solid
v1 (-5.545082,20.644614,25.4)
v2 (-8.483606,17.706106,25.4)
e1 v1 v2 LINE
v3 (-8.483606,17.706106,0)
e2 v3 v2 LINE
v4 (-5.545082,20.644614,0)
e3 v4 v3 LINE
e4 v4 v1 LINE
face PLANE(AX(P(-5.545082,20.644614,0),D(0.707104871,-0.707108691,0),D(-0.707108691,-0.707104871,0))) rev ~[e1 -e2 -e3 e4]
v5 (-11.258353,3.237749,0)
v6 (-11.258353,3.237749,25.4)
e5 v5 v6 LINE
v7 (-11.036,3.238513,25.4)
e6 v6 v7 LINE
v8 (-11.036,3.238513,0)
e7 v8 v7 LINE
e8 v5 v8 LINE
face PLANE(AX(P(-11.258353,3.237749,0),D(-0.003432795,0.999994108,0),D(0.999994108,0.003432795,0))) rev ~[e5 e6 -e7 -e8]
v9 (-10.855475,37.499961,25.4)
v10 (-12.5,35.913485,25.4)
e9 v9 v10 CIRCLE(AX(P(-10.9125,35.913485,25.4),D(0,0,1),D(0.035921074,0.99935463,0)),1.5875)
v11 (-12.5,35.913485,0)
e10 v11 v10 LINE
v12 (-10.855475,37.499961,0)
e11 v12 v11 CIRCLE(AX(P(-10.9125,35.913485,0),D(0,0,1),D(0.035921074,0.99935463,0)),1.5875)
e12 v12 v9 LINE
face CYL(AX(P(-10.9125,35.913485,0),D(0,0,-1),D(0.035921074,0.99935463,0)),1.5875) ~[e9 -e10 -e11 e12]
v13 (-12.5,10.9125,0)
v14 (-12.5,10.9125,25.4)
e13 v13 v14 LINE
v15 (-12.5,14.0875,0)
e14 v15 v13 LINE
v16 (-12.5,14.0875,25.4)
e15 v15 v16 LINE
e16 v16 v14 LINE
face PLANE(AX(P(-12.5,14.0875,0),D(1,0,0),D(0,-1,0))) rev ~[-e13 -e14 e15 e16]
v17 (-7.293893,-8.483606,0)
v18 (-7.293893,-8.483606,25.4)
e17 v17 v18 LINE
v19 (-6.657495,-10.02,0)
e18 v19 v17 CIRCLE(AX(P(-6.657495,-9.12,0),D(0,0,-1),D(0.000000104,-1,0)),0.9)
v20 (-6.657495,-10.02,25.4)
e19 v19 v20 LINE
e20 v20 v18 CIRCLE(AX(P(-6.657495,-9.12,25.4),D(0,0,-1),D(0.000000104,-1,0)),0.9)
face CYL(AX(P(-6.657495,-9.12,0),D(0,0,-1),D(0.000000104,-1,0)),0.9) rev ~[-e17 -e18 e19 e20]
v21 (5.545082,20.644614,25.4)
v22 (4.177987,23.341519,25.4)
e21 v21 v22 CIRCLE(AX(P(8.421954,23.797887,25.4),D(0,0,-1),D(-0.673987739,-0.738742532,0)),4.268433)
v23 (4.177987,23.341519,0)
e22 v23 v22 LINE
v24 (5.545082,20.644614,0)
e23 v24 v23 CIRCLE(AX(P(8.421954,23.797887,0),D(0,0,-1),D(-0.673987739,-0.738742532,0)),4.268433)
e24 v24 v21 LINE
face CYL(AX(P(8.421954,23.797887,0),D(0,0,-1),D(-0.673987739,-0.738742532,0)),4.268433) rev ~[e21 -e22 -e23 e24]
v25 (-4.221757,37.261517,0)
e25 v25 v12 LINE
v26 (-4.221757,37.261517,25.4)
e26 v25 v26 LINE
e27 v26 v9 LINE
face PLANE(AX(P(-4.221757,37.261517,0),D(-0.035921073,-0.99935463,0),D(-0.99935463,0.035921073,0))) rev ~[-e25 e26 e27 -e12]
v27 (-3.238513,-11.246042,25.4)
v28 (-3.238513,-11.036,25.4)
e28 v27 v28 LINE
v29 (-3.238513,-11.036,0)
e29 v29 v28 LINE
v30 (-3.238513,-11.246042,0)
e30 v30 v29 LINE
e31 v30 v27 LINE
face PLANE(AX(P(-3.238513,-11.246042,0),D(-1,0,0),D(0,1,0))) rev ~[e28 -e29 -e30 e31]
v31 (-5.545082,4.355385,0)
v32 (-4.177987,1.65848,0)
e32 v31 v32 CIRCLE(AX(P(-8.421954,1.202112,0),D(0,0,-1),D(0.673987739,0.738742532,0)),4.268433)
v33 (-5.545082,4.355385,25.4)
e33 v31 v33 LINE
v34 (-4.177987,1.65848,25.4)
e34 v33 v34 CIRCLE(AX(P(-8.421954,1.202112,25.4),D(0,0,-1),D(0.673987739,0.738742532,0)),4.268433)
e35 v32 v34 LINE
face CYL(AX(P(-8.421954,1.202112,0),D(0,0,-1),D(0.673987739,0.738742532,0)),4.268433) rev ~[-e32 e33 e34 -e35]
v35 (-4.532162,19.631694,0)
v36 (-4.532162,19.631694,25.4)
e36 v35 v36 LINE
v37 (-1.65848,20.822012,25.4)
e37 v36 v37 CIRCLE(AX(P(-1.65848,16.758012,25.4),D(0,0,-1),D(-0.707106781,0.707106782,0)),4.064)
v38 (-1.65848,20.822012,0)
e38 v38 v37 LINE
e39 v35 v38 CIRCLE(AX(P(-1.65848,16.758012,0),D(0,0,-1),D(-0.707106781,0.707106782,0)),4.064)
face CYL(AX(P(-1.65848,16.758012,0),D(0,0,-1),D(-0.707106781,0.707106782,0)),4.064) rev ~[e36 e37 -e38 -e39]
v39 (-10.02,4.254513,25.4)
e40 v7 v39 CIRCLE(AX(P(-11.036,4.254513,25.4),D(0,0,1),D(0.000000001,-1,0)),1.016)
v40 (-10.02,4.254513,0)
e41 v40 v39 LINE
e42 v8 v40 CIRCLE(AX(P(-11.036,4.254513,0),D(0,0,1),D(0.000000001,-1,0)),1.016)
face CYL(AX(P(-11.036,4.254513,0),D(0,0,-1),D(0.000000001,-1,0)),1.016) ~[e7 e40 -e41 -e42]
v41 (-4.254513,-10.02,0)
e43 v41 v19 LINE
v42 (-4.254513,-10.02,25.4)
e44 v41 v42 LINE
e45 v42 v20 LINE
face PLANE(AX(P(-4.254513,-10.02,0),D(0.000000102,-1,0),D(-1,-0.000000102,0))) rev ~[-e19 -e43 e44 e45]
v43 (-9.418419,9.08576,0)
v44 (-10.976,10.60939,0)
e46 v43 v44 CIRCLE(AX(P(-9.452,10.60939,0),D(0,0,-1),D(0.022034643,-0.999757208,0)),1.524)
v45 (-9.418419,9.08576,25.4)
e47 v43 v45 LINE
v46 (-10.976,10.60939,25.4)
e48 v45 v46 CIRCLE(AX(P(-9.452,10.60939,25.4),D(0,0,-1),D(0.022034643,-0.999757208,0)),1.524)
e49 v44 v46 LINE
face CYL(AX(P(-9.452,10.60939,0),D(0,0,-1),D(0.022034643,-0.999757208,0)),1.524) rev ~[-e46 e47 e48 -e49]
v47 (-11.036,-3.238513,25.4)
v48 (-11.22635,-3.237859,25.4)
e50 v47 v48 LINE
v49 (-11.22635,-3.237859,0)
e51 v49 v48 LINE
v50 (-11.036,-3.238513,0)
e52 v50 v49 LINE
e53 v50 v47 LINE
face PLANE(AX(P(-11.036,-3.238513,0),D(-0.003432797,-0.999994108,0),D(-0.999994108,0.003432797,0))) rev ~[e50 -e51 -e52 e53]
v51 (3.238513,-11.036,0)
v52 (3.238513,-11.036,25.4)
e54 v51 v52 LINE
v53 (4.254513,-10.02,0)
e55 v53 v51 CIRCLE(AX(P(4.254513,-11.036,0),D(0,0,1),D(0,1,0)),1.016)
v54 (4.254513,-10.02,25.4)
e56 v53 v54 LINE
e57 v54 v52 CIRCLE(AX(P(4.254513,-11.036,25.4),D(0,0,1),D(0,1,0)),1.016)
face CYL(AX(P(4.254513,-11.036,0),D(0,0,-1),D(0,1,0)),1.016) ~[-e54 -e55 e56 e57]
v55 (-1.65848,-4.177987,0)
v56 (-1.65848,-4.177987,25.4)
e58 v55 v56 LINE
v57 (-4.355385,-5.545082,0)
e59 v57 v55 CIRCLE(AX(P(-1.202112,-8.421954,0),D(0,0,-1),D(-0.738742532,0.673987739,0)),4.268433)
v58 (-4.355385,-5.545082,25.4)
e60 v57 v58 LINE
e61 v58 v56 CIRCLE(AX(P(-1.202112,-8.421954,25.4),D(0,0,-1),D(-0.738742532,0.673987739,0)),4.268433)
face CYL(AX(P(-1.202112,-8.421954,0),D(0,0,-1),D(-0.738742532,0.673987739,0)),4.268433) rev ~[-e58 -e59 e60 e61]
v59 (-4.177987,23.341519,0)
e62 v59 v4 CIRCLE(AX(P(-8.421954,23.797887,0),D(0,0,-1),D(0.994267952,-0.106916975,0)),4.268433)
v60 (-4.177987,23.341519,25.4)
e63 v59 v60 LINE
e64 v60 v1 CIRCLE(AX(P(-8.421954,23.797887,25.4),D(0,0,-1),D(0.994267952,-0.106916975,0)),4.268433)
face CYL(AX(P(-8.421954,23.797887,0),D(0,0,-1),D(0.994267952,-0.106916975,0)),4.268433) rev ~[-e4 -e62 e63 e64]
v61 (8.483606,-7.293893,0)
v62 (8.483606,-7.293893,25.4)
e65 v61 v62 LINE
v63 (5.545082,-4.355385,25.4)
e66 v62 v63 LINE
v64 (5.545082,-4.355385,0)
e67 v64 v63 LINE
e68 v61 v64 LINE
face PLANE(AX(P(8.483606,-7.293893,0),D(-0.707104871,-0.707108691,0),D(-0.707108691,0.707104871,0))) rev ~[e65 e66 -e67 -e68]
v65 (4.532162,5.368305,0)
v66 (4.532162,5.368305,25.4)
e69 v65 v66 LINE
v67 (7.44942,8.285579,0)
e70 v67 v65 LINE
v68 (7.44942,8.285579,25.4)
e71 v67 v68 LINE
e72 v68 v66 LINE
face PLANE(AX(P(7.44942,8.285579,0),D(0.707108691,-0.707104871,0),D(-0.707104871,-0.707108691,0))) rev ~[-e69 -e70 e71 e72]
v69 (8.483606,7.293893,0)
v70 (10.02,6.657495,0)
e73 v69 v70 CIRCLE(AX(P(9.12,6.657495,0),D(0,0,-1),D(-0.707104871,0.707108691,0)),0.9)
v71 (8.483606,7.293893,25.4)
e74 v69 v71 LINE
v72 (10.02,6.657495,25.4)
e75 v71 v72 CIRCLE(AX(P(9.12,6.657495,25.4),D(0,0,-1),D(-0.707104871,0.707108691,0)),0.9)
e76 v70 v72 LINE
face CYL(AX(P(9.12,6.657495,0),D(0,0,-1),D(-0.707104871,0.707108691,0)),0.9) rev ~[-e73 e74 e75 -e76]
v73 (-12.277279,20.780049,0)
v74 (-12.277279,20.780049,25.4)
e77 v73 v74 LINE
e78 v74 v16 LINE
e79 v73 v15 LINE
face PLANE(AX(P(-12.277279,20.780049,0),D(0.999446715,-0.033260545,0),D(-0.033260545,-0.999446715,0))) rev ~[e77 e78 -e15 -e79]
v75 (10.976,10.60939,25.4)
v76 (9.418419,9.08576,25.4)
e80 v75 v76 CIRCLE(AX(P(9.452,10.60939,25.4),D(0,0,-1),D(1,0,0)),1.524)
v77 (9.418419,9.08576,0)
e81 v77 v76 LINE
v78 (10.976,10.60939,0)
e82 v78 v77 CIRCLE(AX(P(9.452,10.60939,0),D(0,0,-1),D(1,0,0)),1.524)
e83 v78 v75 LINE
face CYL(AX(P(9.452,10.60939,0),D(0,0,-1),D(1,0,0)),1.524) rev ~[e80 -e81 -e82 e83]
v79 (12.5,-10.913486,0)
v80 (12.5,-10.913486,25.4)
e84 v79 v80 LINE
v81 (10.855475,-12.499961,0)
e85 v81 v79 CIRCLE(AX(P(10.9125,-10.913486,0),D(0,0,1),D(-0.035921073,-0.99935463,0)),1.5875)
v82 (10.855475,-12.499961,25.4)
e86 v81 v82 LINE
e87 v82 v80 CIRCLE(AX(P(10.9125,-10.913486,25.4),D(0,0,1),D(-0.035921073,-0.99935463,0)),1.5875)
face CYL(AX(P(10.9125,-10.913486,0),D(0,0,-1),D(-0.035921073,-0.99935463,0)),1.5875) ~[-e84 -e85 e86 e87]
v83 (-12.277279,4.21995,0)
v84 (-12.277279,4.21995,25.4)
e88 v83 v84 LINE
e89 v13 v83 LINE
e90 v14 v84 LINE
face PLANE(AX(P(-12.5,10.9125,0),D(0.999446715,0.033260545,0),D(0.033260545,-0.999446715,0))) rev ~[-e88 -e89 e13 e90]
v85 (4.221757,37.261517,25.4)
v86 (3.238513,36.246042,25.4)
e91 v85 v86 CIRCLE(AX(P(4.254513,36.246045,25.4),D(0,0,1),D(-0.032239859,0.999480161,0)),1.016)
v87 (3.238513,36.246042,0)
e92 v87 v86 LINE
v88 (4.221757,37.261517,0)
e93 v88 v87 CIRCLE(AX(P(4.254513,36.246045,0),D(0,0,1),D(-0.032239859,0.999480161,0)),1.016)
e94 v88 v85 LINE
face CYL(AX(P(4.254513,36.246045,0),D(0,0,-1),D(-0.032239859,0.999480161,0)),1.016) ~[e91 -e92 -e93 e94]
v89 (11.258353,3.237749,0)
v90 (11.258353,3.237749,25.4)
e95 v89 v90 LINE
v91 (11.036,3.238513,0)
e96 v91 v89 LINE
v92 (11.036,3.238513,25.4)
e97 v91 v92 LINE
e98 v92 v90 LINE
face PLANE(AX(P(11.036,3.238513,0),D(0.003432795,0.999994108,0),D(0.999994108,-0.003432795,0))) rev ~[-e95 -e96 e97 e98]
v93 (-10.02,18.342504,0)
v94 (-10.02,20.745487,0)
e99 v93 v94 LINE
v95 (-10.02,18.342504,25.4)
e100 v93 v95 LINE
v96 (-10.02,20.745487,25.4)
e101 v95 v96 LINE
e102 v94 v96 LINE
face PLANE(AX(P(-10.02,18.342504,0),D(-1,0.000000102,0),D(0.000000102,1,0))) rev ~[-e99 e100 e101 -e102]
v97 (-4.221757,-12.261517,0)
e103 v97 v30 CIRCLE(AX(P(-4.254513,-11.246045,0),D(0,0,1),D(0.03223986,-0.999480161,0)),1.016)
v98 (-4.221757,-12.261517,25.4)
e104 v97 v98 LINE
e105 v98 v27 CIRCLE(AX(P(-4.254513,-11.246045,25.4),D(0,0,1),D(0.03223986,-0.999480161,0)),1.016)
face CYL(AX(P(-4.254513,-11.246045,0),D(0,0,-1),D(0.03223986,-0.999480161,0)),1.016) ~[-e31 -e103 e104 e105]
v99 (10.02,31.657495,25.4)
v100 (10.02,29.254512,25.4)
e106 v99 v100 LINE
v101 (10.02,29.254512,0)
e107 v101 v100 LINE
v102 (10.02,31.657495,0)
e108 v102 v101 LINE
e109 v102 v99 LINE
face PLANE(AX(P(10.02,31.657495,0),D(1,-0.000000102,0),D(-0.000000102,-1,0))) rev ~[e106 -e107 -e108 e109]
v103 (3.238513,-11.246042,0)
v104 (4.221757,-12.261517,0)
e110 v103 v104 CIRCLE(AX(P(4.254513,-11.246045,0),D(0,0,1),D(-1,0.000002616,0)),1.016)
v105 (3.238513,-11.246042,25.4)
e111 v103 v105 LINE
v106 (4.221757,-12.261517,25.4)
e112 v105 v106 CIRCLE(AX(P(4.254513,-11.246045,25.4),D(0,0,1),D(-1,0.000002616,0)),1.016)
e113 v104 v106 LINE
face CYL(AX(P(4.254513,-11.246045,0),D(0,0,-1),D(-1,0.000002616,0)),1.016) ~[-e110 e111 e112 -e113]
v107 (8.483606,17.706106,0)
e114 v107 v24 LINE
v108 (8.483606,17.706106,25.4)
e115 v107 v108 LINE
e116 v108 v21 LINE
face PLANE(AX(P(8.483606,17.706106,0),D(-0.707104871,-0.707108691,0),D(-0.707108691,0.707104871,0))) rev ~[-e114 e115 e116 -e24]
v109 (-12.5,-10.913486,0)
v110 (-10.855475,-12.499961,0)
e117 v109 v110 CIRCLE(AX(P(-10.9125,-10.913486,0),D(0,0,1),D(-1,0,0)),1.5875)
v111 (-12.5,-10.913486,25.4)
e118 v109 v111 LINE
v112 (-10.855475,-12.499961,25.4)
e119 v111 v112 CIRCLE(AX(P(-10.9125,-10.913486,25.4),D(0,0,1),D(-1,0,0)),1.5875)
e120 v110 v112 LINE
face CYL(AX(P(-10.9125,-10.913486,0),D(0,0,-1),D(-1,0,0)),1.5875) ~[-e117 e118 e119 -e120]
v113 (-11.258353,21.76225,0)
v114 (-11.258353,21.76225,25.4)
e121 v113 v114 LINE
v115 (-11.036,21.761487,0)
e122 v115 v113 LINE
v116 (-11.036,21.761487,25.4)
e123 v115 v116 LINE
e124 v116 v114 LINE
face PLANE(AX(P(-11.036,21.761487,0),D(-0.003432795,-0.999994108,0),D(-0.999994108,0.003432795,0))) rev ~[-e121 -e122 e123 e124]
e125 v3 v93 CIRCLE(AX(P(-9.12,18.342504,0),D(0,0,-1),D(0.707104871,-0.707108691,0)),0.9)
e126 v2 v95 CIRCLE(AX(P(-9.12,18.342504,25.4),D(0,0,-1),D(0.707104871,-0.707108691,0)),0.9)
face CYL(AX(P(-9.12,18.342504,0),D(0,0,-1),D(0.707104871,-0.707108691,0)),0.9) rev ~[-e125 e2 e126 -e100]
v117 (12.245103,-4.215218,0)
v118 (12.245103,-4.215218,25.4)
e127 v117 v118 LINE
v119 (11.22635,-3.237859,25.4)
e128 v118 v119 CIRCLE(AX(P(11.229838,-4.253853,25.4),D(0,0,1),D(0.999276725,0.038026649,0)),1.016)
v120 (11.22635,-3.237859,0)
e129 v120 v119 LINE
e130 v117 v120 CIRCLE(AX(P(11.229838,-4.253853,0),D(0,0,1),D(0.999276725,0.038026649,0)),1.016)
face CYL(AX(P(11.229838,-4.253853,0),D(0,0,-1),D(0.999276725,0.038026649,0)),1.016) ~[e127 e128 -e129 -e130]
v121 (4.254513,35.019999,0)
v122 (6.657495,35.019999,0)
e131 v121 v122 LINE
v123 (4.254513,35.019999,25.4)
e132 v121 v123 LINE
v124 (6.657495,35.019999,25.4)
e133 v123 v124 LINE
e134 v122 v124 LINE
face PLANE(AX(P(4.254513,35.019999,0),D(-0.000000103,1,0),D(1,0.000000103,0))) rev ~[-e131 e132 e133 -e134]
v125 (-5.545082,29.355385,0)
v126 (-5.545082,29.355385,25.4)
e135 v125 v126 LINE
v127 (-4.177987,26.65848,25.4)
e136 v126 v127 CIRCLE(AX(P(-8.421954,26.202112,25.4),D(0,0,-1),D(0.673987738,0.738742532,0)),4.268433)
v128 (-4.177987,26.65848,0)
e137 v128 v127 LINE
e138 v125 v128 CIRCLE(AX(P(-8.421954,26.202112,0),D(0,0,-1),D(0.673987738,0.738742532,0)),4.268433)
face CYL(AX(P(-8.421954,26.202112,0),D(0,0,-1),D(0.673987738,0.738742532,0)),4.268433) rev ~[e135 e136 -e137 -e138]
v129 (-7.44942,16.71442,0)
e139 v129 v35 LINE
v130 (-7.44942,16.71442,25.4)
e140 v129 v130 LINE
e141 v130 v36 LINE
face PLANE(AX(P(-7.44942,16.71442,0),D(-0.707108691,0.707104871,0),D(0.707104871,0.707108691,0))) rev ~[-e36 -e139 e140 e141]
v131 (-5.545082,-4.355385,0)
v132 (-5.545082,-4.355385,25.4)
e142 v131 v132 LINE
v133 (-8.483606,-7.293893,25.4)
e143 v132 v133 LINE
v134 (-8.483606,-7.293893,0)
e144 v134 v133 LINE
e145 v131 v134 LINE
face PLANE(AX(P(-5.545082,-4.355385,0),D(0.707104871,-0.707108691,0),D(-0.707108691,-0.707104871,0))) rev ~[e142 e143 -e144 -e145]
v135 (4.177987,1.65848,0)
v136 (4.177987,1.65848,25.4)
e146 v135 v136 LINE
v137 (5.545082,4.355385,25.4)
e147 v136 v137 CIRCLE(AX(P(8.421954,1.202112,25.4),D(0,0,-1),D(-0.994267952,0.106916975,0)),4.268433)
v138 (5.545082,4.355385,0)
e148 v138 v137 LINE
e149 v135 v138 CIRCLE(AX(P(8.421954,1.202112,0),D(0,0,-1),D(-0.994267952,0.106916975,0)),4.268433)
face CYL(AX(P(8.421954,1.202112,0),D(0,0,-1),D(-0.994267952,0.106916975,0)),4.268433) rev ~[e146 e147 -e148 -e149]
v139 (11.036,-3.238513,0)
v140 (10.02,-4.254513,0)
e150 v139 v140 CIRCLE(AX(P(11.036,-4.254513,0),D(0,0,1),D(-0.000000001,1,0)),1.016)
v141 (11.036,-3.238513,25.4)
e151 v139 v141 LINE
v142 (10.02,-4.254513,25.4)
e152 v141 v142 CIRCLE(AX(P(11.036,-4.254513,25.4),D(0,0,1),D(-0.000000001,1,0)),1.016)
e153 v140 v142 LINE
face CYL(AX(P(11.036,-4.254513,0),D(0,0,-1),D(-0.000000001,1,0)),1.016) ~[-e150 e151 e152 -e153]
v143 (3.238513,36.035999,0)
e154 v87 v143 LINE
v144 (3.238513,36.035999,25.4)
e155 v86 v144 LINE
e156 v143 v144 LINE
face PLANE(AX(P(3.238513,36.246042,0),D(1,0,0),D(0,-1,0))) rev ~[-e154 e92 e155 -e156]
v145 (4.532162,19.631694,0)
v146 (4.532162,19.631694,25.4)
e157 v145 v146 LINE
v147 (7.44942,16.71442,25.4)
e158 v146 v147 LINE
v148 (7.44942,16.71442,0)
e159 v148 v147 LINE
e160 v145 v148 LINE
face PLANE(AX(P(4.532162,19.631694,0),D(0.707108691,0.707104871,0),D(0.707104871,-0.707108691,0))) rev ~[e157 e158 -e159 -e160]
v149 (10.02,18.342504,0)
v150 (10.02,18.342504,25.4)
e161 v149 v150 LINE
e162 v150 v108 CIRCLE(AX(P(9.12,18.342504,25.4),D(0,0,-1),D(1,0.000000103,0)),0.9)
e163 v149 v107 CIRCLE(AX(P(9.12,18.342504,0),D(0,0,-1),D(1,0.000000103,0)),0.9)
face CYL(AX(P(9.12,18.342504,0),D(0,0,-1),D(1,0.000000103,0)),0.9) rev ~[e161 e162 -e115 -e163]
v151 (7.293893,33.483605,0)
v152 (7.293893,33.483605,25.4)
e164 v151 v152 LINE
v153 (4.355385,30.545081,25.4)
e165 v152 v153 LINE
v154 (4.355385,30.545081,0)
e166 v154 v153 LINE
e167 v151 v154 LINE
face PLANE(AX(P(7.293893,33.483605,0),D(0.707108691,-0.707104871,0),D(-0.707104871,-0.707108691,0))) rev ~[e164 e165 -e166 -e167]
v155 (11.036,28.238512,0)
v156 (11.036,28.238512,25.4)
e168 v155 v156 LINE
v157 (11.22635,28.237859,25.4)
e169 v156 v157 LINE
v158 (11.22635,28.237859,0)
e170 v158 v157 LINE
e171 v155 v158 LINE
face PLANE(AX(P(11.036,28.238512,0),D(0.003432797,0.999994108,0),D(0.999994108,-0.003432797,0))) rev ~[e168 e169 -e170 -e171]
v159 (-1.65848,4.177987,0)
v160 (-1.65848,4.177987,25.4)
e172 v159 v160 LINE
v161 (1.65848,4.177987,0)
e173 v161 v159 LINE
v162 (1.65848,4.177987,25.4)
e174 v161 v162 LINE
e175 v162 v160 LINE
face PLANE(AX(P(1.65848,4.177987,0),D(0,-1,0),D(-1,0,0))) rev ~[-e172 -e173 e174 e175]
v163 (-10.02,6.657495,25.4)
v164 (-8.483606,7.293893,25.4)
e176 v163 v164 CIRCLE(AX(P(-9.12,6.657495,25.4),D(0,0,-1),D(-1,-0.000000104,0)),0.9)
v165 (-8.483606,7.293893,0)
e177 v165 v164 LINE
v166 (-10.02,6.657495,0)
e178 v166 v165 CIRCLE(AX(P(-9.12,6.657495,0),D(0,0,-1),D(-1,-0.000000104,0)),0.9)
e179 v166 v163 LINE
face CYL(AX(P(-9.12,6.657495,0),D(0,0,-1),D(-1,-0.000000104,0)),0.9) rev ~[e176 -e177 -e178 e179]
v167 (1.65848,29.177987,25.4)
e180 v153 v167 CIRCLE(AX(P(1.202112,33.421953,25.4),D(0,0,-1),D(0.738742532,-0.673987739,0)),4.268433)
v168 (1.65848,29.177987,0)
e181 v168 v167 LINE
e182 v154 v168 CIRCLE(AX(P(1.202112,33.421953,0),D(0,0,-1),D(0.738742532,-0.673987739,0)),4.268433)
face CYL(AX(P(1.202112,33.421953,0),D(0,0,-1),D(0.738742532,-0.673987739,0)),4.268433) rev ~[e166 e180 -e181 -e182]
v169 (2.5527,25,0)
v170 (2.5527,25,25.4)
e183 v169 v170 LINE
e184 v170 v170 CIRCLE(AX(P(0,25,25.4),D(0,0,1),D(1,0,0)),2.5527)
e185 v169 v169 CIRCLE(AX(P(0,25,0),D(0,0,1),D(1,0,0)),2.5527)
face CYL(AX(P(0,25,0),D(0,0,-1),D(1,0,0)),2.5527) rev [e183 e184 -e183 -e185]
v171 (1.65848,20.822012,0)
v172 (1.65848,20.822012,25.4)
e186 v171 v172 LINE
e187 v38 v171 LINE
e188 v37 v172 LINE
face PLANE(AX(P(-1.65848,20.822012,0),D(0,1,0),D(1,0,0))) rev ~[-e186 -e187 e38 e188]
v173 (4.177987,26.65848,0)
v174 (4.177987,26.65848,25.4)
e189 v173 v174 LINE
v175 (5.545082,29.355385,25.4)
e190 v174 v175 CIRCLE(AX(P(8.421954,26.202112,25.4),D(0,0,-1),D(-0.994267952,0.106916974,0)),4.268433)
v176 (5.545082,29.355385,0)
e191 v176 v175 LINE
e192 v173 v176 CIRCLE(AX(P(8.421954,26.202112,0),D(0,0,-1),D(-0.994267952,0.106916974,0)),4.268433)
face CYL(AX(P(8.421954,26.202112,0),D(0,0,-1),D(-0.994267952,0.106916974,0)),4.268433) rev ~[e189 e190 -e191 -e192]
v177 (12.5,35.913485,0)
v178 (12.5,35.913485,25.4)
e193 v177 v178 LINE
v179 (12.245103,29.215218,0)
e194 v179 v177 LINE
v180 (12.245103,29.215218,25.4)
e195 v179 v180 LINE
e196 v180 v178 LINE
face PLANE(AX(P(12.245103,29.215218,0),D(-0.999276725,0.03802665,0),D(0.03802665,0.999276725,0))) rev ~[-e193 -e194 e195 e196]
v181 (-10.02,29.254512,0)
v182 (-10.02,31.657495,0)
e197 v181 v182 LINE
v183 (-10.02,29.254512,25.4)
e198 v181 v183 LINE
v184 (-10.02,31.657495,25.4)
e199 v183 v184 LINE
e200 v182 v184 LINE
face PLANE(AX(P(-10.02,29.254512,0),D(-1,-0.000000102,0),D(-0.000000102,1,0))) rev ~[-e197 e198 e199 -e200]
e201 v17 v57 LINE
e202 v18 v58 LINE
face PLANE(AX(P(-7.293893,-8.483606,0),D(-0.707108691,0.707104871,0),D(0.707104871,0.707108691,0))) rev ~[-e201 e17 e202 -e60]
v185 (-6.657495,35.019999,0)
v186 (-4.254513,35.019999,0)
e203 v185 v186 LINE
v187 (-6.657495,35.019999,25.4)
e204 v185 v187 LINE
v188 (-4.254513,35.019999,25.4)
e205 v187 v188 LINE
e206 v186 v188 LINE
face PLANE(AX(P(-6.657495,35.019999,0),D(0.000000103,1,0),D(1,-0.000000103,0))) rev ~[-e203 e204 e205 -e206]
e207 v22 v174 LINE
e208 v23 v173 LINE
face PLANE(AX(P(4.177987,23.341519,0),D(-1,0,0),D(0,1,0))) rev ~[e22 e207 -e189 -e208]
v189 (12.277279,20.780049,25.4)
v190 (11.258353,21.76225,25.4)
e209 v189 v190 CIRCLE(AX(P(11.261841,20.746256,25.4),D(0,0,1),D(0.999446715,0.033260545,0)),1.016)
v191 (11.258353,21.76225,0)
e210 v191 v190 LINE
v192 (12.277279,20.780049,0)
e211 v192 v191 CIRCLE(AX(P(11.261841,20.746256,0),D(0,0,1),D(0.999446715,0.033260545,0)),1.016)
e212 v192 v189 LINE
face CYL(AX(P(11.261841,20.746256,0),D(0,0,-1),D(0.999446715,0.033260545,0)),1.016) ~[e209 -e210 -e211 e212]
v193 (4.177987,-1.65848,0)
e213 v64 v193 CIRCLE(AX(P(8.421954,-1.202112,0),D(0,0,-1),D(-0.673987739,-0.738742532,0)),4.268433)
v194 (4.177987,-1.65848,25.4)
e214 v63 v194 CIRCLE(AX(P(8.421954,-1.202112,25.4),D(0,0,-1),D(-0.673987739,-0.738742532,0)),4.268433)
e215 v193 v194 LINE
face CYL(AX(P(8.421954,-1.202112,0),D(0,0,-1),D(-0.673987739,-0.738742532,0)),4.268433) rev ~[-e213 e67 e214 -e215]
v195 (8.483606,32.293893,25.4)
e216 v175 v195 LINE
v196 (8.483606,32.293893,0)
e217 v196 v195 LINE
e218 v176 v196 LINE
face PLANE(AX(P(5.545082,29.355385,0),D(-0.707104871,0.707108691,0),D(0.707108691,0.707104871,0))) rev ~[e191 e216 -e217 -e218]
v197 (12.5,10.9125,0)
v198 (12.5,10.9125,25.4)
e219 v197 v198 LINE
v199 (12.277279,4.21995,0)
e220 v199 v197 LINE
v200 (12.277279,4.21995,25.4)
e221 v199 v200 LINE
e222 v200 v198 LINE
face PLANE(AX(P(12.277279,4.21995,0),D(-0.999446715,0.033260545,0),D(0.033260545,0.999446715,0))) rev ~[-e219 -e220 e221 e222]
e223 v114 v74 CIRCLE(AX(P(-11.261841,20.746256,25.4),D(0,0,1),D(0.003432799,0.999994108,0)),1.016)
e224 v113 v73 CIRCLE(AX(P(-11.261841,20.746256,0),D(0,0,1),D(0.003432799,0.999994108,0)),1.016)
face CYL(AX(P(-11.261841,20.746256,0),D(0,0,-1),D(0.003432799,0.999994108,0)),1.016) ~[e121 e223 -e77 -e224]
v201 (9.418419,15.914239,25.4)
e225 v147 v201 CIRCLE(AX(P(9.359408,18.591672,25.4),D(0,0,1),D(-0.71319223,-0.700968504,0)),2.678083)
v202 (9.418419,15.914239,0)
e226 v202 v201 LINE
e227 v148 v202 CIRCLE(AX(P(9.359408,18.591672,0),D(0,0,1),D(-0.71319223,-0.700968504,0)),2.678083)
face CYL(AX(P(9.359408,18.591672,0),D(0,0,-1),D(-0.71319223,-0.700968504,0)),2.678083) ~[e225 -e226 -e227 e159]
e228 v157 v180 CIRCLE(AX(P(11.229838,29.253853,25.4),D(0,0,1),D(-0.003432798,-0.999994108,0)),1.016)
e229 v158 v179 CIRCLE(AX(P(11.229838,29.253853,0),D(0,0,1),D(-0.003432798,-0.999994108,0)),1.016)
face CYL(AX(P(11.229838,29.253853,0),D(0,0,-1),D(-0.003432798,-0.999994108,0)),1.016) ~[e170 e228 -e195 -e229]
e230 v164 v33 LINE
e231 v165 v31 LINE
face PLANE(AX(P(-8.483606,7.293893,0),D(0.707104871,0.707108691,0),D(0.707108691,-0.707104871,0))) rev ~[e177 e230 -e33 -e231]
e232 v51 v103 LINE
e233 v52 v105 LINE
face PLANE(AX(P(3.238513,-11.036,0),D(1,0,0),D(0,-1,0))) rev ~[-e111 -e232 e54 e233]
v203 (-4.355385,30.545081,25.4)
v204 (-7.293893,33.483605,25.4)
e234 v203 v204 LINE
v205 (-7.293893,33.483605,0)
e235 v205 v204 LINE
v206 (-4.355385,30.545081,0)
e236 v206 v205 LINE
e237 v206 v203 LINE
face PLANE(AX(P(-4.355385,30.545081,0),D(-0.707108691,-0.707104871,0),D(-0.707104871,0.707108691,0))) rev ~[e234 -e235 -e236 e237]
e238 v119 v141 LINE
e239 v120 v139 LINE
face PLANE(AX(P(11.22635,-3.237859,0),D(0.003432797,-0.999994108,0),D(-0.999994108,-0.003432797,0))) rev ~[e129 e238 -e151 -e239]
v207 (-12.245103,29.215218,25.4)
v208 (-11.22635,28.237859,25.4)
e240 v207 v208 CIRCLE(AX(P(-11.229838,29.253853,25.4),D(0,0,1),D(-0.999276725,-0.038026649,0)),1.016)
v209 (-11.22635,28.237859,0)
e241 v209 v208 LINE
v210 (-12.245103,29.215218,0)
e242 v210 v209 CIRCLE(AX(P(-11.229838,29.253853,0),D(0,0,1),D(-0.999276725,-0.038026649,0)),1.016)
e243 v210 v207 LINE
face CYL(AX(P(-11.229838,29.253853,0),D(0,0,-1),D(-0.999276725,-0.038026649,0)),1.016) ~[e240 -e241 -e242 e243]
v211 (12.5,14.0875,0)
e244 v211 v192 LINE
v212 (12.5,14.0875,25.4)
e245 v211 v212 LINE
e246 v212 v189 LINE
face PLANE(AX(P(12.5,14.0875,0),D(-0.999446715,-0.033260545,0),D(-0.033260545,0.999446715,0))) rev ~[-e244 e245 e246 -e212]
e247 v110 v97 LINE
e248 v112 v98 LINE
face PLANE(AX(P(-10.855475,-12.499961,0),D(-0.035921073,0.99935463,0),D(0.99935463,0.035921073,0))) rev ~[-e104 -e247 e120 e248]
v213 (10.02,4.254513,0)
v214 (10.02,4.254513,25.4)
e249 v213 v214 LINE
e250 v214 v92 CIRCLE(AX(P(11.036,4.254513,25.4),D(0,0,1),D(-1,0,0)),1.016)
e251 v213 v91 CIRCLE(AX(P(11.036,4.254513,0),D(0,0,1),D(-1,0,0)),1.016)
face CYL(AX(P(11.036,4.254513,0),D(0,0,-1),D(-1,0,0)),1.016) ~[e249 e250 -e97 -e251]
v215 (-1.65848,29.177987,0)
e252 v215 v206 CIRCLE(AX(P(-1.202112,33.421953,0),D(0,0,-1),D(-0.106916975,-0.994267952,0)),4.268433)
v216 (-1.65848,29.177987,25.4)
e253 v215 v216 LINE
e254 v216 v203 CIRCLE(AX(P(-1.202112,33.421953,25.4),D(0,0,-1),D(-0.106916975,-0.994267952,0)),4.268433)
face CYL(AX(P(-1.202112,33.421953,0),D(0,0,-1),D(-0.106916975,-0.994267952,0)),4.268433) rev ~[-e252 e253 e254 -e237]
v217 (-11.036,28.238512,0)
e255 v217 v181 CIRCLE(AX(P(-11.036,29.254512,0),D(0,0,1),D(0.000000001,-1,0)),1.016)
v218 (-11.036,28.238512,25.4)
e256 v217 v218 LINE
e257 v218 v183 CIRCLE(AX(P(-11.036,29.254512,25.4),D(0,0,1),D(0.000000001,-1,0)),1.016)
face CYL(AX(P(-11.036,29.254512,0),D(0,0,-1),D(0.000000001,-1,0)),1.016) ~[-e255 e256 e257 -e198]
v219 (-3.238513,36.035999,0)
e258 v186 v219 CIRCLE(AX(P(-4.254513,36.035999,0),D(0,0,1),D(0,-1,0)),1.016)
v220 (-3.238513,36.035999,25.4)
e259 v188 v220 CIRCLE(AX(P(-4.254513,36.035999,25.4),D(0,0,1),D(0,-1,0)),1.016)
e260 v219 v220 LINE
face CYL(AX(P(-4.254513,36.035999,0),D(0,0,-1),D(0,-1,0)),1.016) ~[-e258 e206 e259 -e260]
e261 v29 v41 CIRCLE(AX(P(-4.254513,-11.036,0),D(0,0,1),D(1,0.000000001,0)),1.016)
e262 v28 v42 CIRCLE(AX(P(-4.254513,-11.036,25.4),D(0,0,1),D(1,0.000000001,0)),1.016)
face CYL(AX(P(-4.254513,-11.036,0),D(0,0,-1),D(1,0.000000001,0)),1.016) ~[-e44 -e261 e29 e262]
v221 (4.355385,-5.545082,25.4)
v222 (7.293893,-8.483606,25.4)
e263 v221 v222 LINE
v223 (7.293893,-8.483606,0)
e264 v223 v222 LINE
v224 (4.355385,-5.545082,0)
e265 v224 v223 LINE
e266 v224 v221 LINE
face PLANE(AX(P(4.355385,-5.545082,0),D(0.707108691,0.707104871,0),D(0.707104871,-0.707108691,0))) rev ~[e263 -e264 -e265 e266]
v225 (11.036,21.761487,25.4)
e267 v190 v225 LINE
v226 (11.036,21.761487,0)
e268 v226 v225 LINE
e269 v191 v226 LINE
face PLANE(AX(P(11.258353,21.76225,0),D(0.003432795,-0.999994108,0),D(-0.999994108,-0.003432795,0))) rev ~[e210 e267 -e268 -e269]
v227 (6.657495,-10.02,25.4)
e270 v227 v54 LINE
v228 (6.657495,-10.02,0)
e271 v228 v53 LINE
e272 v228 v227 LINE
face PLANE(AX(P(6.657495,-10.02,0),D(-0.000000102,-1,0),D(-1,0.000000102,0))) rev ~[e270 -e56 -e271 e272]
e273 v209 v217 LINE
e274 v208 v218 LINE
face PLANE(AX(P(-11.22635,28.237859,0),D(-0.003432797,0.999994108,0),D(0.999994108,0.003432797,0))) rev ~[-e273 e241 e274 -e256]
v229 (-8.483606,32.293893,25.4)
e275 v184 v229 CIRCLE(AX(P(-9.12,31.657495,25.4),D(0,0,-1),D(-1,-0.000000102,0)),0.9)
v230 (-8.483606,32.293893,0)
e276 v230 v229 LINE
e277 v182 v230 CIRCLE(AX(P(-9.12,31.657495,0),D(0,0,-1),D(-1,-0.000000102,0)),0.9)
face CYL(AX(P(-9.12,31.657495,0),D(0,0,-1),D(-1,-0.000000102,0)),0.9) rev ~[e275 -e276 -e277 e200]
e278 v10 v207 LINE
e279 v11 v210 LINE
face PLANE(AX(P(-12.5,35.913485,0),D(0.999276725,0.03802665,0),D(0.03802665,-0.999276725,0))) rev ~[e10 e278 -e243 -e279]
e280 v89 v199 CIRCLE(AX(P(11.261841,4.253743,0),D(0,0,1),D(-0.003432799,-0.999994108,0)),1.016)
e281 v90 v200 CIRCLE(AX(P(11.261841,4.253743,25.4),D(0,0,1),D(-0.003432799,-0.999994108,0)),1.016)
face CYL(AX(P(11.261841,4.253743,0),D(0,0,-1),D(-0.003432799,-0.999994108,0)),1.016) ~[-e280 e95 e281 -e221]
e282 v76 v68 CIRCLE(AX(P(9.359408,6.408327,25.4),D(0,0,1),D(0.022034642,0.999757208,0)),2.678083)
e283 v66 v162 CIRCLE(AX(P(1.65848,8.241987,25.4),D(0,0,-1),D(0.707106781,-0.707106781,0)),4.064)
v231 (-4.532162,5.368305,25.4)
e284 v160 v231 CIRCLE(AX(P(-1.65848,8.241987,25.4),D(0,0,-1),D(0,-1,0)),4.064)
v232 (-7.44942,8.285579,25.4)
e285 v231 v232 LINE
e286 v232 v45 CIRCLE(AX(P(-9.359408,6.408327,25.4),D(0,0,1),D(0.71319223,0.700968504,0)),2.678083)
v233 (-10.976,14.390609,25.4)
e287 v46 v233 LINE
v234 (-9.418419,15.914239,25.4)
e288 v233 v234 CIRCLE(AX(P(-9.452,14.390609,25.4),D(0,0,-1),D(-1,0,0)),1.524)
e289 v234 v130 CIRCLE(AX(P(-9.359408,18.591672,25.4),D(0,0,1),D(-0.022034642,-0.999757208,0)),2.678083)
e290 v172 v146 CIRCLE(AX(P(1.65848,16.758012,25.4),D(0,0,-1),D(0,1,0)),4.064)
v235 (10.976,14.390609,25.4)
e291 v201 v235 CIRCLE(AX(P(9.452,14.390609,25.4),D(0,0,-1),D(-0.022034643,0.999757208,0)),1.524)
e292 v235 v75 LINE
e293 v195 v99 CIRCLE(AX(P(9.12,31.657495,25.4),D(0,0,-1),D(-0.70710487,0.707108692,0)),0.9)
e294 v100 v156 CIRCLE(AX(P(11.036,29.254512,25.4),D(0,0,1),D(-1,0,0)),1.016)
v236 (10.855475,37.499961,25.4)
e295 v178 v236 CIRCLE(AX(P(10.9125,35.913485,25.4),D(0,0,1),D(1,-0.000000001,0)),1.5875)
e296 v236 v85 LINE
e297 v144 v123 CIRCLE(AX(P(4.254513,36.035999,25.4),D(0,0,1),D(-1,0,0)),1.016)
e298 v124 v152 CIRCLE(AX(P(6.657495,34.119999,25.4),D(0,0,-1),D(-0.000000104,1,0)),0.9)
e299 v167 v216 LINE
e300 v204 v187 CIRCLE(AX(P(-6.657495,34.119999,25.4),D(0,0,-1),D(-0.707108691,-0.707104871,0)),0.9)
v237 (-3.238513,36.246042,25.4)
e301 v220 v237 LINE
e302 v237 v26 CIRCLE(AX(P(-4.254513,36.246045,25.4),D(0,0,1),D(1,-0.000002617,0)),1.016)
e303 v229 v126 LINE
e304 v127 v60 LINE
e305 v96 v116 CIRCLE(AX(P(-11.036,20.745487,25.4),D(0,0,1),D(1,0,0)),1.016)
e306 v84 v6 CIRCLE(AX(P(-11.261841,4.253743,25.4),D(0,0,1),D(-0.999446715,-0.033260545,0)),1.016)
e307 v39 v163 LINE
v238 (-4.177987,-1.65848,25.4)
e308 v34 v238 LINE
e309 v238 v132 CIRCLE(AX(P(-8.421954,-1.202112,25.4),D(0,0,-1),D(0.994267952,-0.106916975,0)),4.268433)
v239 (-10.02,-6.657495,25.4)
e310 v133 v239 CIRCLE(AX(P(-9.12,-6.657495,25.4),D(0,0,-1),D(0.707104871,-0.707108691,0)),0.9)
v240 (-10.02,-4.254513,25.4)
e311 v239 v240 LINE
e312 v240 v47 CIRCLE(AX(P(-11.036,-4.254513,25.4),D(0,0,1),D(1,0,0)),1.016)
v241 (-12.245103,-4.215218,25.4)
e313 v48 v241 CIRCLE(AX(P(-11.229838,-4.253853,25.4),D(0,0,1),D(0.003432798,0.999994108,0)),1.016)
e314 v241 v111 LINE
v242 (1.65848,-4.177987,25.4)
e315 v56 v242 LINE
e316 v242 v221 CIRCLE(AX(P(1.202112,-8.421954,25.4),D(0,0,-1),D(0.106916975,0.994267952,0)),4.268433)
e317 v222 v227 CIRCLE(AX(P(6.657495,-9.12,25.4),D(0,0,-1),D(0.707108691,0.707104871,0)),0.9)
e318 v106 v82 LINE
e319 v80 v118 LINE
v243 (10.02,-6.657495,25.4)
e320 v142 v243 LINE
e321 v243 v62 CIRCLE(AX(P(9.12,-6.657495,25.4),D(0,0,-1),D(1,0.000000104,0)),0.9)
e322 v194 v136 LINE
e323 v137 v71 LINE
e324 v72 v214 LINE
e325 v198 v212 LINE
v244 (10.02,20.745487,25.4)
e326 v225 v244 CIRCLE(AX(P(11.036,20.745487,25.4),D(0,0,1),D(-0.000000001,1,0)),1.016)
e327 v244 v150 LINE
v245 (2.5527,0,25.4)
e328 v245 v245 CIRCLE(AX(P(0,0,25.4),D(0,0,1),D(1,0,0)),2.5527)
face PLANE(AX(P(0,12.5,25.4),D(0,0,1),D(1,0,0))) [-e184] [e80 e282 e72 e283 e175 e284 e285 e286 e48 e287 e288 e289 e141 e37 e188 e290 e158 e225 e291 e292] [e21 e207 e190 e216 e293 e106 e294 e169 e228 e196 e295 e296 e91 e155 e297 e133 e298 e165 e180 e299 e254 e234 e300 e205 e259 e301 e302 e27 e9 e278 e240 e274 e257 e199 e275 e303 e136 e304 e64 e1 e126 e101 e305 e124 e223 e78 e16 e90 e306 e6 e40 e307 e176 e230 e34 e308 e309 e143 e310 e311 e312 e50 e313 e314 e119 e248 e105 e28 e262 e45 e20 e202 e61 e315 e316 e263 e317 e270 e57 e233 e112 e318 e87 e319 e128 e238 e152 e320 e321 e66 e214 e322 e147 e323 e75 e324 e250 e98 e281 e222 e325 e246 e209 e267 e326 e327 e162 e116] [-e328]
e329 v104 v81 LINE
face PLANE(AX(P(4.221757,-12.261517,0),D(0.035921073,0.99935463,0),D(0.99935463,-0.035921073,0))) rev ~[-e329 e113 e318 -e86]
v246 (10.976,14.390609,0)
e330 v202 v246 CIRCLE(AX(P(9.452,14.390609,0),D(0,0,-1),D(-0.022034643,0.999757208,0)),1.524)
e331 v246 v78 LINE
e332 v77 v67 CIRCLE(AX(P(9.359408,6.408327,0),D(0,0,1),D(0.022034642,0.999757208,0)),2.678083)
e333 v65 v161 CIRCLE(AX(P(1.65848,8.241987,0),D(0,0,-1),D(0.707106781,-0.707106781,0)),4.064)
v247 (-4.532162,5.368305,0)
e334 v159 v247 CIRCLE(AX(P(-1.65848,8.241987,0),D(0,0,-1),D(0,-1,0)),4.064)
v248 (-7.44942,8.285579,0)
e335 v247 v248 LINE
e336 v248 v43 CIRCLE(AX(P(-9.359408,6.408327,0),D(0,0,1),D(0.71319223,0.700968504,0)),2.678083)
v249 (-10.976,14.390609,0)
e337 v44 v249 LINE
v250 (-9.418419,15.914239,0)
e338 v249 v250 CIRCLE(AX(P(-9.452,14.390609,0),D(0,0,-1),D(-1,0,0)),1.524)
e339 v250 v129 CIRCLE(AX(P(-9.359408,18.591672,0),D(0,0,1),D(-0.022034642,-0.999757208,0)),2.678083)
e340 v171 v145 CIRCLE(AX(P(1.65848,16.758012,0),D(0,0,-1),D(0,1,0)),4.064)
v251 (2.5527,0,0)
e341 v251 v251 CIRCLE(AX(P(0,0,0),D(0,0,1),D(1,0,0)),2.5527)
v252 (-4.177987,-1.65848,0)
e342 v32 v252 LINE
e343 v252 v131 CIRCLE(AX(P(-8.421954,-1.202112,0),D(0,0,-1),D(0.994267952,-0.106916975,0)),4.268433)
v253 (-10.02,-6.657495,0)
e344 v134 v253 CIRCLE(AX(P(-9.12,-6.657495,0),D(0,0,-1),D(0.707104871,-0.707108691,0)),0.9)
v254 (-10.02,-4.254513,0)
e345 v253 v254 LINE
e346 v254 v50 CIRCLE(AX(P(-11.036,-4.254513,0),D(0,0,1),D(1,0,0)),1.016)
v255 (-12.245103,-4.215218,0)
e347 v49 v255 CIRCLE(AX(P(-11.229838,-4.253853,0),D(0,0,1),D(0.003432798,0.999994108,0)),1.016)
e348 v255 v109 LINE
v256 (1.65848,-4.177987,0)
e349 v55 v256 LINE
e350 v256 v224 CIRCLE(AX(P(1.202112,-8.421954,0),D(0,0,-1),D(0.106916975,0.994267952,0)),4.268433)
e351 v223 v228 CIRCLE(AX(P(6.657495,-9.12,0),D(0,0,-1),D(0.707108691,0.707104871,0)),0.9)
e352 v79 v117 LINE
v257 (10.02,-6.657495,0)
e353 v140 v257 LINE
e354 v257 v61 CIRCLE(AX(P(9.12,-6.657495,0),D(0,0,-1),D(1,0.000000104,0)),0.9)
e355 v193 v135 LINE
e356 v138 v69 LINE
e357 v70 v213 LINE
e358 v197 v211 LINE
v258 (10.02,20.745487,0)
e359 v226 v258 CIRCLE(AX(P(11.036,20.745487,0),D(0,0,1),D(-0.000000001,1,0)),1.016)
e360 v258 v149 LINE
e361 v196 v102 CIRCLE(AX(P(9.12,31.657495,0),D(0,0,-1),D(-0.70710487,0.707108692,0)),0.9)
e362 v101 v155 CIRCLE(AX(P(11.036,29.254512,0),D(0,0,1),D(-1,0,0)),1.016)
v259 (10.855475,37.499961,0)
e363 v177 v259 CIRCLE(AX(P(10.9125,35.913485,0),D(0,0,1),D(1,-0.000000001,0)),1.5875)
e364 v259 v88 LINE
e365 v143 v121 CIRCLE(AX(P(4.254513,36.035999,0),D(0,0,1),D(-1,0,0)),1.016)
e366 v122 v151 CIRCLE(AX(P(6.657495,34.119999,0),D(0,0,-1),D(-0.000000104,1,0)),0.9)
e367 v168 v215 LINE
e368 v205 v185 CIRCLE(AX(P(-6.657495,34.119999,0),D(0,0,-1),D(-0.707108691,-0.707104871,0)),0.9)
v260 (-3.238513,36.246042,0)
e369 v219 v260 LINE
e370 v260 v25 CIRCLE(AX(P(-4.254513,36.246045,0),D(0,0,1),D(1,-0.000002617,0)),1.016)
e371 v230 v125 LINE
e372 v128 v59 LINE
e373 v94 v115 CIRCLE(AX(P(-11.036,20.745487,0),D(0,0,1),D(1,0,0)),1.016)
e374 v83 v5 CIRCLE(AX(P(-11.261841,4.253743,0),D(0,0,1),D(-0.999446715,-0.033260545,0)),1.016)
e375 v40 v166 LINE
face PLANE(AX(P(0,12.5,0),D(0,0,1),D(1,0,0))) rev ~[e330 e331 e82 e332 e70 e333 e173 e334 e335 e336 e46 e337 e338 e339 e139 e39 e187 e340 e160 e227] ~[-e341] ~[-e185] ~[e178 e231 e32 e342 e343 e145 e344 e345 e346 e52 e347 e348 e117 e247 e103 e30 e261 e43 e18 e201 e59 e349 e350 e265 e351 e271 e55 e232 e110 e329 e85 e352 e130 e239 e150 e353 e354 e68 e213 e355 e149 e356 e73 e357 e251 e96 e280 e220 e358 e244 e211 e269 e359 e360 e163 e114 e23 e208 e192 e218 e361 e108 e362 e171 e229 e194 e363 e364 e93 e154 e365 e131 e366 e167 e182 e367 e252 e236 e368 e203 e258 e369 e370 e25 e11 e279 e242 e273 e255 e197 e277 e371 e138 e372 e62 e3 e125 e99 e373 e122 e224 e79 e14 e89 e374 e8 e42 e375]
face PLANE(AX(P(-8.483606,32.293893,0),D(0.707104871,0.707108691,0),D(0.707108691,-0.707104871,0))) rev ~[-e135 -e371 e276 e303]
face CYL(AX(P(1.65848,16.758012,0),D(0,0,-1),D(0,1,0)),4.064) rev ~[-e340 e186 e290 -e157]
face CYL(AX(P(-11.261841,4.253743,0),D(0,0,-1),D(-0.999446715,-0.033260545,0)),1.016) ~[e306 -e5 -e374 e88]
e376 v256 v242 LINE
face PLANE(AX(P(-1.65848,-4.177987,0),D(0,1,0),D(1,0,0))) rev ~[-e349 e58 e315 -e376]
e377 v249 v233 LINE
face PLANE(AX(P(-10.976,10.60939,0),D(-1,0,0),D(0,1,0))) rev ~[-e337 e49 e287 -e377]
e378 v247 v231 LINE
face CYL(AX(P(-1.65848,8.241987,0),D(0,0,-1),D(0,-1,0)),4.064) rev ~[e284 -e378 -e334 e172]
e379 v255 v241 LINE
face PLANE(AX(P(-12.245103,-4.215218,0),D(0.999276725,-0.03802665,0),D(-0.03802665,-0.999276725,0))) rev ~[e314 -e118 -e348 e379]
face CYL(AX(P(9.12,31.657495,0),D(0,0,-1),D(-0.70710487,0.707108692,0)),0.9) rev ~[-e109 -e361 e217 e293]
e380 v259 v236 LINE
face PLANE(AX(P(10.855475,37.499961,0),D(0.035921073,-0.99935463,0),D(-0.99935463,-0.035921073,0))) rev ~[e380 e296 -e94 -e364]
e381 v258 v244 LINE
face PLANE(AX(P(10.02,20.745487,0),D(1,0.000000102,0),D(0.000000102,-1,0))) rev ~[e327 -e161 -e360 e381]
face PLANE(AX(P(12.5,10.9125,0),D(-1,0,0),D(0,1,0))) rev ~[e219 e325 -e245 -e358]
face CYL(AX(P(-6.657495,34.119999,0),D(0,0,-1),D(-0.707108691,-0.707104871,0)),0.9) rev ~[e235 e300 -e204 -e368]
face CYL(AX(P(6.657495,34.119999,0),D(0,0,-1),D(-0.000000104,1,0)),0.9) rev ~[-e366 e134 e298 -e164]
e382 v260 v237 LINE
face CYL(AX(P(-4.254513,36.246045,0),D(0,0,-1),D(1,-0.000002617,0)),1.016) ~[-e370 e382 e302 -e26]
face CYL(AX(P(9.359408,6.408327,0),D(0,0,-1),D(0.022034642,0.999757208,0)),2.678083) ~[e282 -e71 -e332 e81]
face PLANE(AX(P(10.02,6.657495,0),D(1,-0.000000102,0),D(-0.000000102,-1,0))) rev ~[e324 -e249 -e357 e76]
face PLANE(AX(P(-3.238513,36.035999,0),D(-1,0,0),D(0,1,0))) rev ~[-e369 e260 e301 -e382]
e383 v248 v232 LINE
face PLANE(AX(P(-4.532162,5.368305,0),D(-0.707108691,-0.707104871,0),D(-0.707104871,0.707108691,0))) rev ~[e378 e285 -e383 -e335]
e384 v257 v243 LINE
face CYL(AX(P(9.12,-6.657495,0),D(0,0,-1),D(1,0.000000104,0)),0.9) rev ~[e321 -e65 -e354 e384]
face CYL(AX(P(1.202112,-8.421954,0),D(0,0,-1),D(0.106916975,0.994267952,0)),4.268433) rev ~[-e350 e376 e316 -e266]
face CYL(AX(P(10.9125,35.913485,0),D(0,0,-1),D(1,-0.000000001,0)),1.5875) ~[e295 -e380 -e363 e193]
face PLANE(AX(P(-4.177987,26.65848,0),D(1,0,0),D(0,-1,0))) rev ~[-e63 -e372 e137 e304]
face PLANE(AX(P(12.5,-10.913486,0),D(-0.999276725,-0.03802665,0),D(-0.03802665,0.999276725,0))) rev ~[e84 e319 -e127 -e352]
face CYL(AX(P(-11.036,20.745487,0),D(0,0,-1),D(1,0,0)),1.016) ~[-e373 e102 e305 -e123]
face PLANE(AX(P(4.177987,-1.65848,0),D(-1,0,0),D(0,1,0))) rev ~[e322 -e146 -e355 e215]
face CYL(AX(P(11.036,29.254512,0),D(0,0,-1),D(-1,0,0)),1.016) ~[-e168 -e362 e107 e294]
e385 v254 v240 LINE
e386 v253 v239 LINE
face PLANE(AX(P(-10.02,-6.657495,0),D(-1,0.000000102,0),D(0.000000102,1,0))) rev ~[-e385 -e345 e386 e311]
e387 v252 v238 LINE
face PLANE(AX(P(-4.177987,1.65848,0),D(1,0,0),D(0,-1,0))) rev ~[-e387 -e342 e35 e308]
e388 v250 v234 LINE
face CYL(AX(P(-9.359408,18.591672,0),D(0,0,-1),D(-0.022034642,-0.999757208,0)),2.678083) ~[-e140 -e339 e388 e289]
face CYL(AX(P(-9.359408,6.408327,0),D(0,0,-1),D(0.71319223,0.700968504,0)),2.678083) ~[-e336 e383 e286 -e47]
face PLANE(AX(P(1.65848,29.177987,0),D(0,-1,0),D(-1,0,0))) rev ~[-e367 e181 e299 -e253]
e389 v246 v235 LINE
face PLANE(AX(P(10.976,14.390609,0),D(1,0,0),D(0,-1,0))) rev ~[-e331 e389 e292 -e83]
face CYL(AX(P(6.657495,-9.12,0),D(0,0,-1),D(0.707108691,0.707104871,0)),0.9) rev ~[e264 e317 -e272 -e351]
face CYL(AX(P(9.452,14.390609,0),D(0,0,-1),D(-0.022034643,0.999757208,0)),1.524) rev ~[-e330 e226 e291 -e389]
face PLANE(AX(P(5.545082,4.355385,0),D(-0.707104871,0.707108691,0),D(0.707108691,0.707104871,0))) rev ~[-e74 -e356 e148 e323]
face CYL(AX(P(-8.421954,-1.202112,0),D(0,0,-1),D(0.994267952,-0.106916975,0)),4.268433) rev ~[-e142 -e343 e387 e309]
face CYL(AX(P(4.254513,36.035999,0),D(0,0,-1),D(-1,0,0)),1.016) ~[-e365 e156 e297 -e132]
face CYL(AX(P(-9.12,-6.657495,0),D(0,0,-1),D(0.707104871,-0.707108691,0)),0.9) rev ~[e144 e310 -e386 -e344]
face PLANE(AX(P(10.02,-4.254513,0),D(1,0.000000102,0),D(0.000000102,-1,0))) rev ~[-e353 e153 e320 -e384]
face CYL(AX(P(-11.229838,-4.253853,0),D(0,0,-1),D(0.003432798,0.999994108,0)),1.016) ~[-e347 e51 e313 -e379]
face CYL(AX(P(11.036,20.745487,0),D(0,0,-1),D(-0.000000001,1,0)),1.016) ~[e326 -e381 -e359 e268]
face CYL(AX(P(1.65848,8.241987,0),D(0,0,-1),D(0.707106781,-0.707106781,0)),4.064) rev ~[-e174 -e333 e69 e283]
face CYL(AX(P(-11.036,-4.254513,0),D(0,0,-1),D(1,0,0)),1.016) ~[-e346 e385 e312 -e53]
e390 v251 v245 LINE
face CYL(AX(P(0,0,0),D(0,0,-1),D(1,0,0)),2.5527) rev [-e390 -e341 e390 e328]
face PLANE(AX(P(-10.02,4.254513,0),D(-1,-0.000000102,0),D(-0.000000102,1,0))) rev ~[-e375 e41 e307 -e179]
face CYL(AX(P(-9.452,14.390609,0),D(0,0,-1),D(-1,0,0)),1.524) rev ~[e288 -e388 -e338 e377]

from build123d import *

# Parameters (mm, degrees)
SKETCH1_R      = 2.552699952
EXTRUDE1_DEPTH = 25.4


with BuildPart() as part:
    # Sketch1 → Extrude1 (new body)
    with BuildSketch(Plane.XY):
        with BuildLine():
            Line((-8.483605576, 7.293893252), (-5.545081932, 4.355385482))
            ThreePointArc((-5.545081932, 4.355385482), (-4.614735711, 3.132038282), (-4.177987221, 1.658480269))
            Line((-4.177987221, 1.658480269), (-4.177987221, -1.658480269))
            ThreePointArc((-4.177987221, -1.658480269), (-4.614735711, -3.132038282), (-5.545081932, -4.355385482))
            Line((-5.545081932, -4.355385482), (-8.483605576, -7.293893252))
            ThreePointArc((-8.483605576, -7.293893252), (-9.464416196, -7.488986523), (-10.019999931, -6.657495349))
            Line((-10.019999931, -6.657495349), (-10.019999685, -4.25451262))
            ThreePointArc((-10.019999685, -4.25451262), (-10.317579227, -3.536092054), (-11.035999792, -3.238512512))
            Line((-11.035999792, -3.238512512), (-11.226349864, -3.237859075))
            ThreePointArc((-11.226349864, -3.237859075), (-11.933208752, -3.520692129), (-12.24510272, -4.215217994))
            Line((-12.24510272, -4.215217994), (-12.499999765, -10.913485754))
            ThreePointArc((-12.499999765, -10.913485754), (-12.014686132, -12.056001152), (-10.855475092, -12.4999612))
            Line((-10.855475092, -12.4999612), (-4.22175692, -12.26151704))
            ThreePointArc((-4.22175692, -12.26151704), (-3.524602107, -11.952788933), (-3.238512512, -11.246042429))
            Line((-3.238512512, -11.246042429), (-3.238512512, -11.035999792))
            ThreePointArc((-3.238512512, -11.035999792), (-3.536092054, -10.317579227), (-4.25451262, -10.019999685))
            Line((-4.25451262, -10.019999685), (-6.657495349, -10.019999931))
            ThreePointArc((-6.657495349, -10.019999931), (-7.488986523, -9.464416196), (-7.293893252, -8.483605576))
            Line((-7.293893252, -8.483605576), (-4.355385482, -5.545081932))
            ThreePointArc((-4.355385482, -5.545081932), (-3.132038282, -4.614735711), (-1.658480269, -4.177987221))
            Line((-1.658480269, -4.177987221), (1.658480269, -4.177987221))
            ThreePointArc((1.658480269, -4.177987221), (3.132038282, -4.614735711), (4.355385482, -5.545081932))
            Line((4.355385482, -5.545081932), (7.293893252, -8.483605576))
            ThreePointArc((7.293893252, -8.483605576), (7.488986523, -9.464416196), (6.657495349, -10.019999931))
            Line((6.657495349, -10.019999931), (4.25451262, -10.019999685))
            ThreePointArc((4.25451262, -10.019999685), (3.536092054, -10.317579227), (3.238512512, -11.035999792))
            Line((3.238512512, -11.035999792), (3.238512512, -11.246042429))
            ThreePointArc((3.238512512, -11.246042429), (3.524602107, -11.952788933), (4.22175692, -12.26151704))
            Line((4.22175692, -12.26151704), (10.855475092, -12.4999612))
            ThreePointArc((10.855475092, -12.4999612), (12.014686132, -12.056001152), (12.499999765, -10.913485754))
            Line((12.499999765, -10.913485754), (12.24510272, -4.215217994))
            ThreePointArc((12.24510272, -4.215217994), (11.933208752, -3.520692129), (11.226349864, -3.237859075))
            Line((11.226349864, -3.237859075), (11.035999792, -3.238512512))
            ThreePointArc((11.035999792, -3.238512512), (10.317579227, -3.536092054), (10.019999685, -4.25451262))
            Line((10.019999685, -4.25451262), (10.019999931, -6.657495349))
            ThreePointArc((10.019999931, -6.657495349), (9.464416196, -7.488986523), (8.483605576, -7.293893252))
            Line((8.483605576, -7.293893252), (5.545081932, -4.355385482))
            ThreePointArc((5.545081932, -4.355385482), (4.614735711, -3.132038282), (4.177987221, -1.658480269))
            Line((4.177987221, -1.658480269), (4.177987221, 1.658480269))
            ThreePointArc((4.177987221, 1.658480269), (4.614735711, 3.132038282), (5.545081932, 4.355385482))
            Line((5.545081932, 4.355385482), (8.483605576, 7.293893252))
            ThreePointArc((8.483605576, 7.293893252), (9.464416196, 7.488986523), (10.019999931, 6.657495349))
            Line((10.019999931, 6.657495349), (10.019999685, 4.25451262))
            ThreePointArc((10.019999685, 4.25451262), (10.317579227, 3.536092054), (11.035999792, 3.238512512))
            Line((11.035999792, 3.238512512), (11.258353132, 3.237749214))
            ThreePointArc((11.258353132, 3.237749214), (11.966958292, 3.522261588), (12.277278698, 4.219950495))
            Line((12.277278698, 4.219950495), (12.499999765, 10.912499795))
            Line((12.499999765, 10.912499795), (12.499999765, 14.087499735))
            Line((12.499999765, 14.087499735), (12.277278698, 20.780049035))
            ThreePointArc((12.277278698, 20.780049035), (11.966958292, 21.477737942), (11.258353132, 21.762250316))
            Line((11.258353132, 21.762250316), (11.035999792, 21.761487018))
            ThreePointArc((11.035999792, 21.761487018), (10.317579227, 21.463907476), (10.019999685, 20.74548691))
            Line((10.019999685, 20.74548691), (10.019999931, 18.34250418))
            ThreePointArc((10.019999931, 18.34250418), (9.464416196, 17.511013007), (8.483605576, 17.706106278))
            Line((8.483605576, 17.706106278), (5.545081932, 20.644614048))
            ThreePointArc((5.545081932, 20.644614048), (4.614735711, 21.867961248), (4.177987221, 23.341519261))
            Line((4.177987221, 23.341519261), (4.177987221, 26.658479799))
            ThreePointArc((4.177987221, 26.658479799), (4.614735711, 28.132037812), (5.545081932, 29.355385011))
            Line((5.545081932, 29.355385011), (8.483605576, 32.293892782))
            ThreePointArc((8.483605576, 32.293892782), (9.464416196, 32.488986052), (10.019999931, 31.657494879))
            Line((10.019999931, 31.657494879), (10.019999685, 29.25451215))
            ThreePointArc((10.019999685, 29.25451215), (10.317579227, 28.536091584), (11.035999792, 28.238512042))
            Line((11.035999792, 28.238512042), (11.226349864, 28.237858605))
            ThreePointArc((11.226349864, 28.237858605), (11.933208752, 28.520691659), (12.24510272, 29.215217524))
            Line((12.24510272, 29.215217524), (12.499999765, 35.913485284))
            ThreePointArc((12.499999765, 35.913485284), (12.014686132, 37.056000682), (10.855475092, 37.499960729))
            Line((10.855475092, 37.499960729), (4.22175692, 37.261516569))
            ThreePointArc((4.22175692, 37.261516569), (3.524602107, 36.952788463), (3.238512512, 36.246041959))
            Line((3.238512512, 36.246041959), (3.238512512, 36.035999322))
            ThreePointArc((3.238512512, 36.035999322), (3.536092054, 35.317578756), (4.25451262, 35.019999214))
            Line((4.25451262, 35.019999214), (6.657495349, 35.019999461))
            ThreePointArc((6.657495349, 35.019999461), (7.488986523, 34.464415726), (7.293893252, 33.483605106))
            Line((7.293893252, 33.483605106), (4.355385482, 30.545081462))
            ThreePointArc((4.355385482, 30.545081462), (3.132038282, 29.614735241), (1.658480269, 29.177986751))
            Line((1.658480269, 29.177986751), (-1.658480269, 29.177986751))
            ThreePointArc((-1.658480269, 29.177986751), (-3.132038282, 29.614735241), (-4.355385482, 30.545081462))
            Line((-4.355385482, 30.545081462), (-7.293893252, 33.483605106))
            ThreePointArc((-7.293893252, 33.483605106), (-7.488986523, 34.464415726), (-6.657495349, 35.019999461))
            Line((-6.657495349, 35.019999461), (-4.25451262, 35.019999214))
            ThreePointArc((-4.25451262, 35.019999214), (-3.536092054, 35.317578756), (-3.238512512, 36.035999322))
            Line((-3.238512512, 36.035999322), (-3.238512512, 36.246041959))
            ThreePointArc((-3.238512512, 36.246041959), (-3.524602107, 36.952788463), (-4.22175692, 37.261516569))
            Line((-4.22175692, 37.261516569), (-10.855475092, 37.499960729))
            ThreePointArc((-10.855475092, 37.499960729), (-12.014686132, 37.056000682), (-12.499999765, 35.913485284))
            Line((-12.499999765, 35.913485284), (-12.24510272, 29.215217524))
            ThreePointArc((-12.24510272, 29.215217524), (-11.933208752, 28.520691659), (-11.226349864, 28.237858605))
            Line((-11.226349864, 28.237858605), (-11.035999792, 28.238512042))
            ThreePointArc((-11.035999792, 28.238512042), (-10.317579227, 28.536091584), (-10.019999685, 29.25451215))
            Line((-10.019999685, 29.25451215), (-10.019999931, 31.657494879))
            ThreePointArc((-10.019999931, 31.657494879), (-9.464416196, 32.488986052), (-8.483605576, 32.293892782))
            Line((-8.483605576, 32.293892782), (-5.545081932, 29.355385011))
            ThreePointArc((-5.545081932, 29.355385011), (-4.614735711, 28.132037812), (-4.177987221, 26.658479799))
            Line((-4.177987221, 26.658479799), (-4.177987221, 23.341519261))
            ThreePointArc((-4.177987221, 23.341519261), (-4.614735711, 21.867961248), (-5.545081932, 20.644614048))
            Line((-5.545081932, 20.644614048), (-8.483605576, 17.706106278))
            ThreePointArc((-8.483605576, 17.706106278), (-9.464416196, 17.511013007), (-10.019999931, 18.34250418))
            Line((-10.019999931, 18.34250418), (-10.019999685, 20.74548691))
            ThreePointArc((-10.019999685, 20.74548691), (-10.317579227, 21.463907476), (-11.035999792, 21.761487018))
            Line((-11.035999792, 21.761487018), (-11.258353132, 21.762250316))
            ThreePointArc((-11.258353132, 21.762250316), (-11.966958292, 21.477737942), (-12.277278698, 20.780049035))
            Line((-12.277278698, 20.780049035), (-12.499999765, 14.087499735))
            Line((-12.499999765, 14.087499735), (-12.499999765, 10.912499795))
            Line((-12.499999765, 10.912499795), (-12.277278698, 4.219950495))
            ThreePointArc((-12.277278698, 4.219950495), (-11.966958292, 3.522261588), (-11.258353132, 3.237749214))
            Line((-11.258353132, 3.237749214), (-11.035999792, 3.238512512))
            ThreePointArc((-11.035999792, 3.238512512), (-10.317579227, 3.536092054), (-10.019999685, 4.25451262))
            Line((-10.019999685, 4.25451262), (-10.019999931, 6.657495349))
            ThreePointArc((-10.019999931, 6.657495349), (-9.464416196, 7.488986523), (-8.483605576, 7.293893252))
        make_face()
        Circle(SKETCH1_R, mode=Mode.SUBTRACT)
        with Locations((0, 24.99999953)):
            Circle(SKETCH1_R, mode=Mode.SUBTRACT)
        with BuildLine():
            Line((-4.532162174, 5.36830524), (-7.449420439, 8.285579265))
            ThreePointArc((-7.449420439, 8.285579265), (-8.351141741, 8.889360855), (-9.418419027, 9.085760214))
            ThreePointArc((-9.418419027, 9.085760214), (-10.5176918, 9.519951543), (-10.975999794, 10.60939017))
            Line((-10.975999794, 10.60939017), (-10.975999794, 14.39060936))
            ThreePointArc((-10.975999794, 14.39060936), (-10.5176918, 15.480047987), (-9.418419027, 15.914239316))
            ThreePointArc((-9.418419027, 15.914239316), (-8.351141741, 16.110638675), (-7.449420439, 16.714420265))
            Line((-7.449420439, 16.714420265), (-4.532162174, 19.63169429))
            ThreePointArc((-4.532162174, 19.63169429), (-3.213705709, 20.512658734), (-1.658480269, 20.822012308))
            Line((-1.658480269, 20.822012308), (1.658480269, 20.822012308))
            ThreePointArc((1.658480269, 20.822012308), (3.213705709, 20.512658734), (4.532162174, 19.63169429))
            Line((4.532162174, 19.63169429), (7.449420439, 16.714420265))
            ThreePointArc((7.449420439, 16.714420265), (8.351141741, 16.110638675), (9.418419027, 15.914239316))
            ThreePointArc((9.418419027, 15.914239316), (10.5176918, 15.480047987), (10.975999794, 14.39060936))
            Line((10.975999794, 14.39060936), (10.975999794, 10.60939017))
            ThreePointArc((10.975999794, 10.60939017), (10.5176918, 9.519951543), (9.418419027, 9.085760214))
            ThreePointArc((9.418419027, 9.085760214), (8.351141741, 8.889360855), (7.449420439, 8.285579265))
            Line((7.449420439, 8.285579265), (4.532162174, 5.36830524))
            ThreePointArc((4.532162174, 5.36830524), (3.213705709, 4.487340795), (1.658480269, 4.177987221))
            Line((1.658480269, 4.177987221), (-1.658480269, 4.177987221))
            ThreePointArc((-1.658480269, 4.177987221), (-3.213705709, 4.487340795), (-4.532162174, 5.36830524))
        make_face(mode=Mode.SUBTRACT)
    extrude(amount=EXTRUDE1_DEPTH)


solid = part.part
